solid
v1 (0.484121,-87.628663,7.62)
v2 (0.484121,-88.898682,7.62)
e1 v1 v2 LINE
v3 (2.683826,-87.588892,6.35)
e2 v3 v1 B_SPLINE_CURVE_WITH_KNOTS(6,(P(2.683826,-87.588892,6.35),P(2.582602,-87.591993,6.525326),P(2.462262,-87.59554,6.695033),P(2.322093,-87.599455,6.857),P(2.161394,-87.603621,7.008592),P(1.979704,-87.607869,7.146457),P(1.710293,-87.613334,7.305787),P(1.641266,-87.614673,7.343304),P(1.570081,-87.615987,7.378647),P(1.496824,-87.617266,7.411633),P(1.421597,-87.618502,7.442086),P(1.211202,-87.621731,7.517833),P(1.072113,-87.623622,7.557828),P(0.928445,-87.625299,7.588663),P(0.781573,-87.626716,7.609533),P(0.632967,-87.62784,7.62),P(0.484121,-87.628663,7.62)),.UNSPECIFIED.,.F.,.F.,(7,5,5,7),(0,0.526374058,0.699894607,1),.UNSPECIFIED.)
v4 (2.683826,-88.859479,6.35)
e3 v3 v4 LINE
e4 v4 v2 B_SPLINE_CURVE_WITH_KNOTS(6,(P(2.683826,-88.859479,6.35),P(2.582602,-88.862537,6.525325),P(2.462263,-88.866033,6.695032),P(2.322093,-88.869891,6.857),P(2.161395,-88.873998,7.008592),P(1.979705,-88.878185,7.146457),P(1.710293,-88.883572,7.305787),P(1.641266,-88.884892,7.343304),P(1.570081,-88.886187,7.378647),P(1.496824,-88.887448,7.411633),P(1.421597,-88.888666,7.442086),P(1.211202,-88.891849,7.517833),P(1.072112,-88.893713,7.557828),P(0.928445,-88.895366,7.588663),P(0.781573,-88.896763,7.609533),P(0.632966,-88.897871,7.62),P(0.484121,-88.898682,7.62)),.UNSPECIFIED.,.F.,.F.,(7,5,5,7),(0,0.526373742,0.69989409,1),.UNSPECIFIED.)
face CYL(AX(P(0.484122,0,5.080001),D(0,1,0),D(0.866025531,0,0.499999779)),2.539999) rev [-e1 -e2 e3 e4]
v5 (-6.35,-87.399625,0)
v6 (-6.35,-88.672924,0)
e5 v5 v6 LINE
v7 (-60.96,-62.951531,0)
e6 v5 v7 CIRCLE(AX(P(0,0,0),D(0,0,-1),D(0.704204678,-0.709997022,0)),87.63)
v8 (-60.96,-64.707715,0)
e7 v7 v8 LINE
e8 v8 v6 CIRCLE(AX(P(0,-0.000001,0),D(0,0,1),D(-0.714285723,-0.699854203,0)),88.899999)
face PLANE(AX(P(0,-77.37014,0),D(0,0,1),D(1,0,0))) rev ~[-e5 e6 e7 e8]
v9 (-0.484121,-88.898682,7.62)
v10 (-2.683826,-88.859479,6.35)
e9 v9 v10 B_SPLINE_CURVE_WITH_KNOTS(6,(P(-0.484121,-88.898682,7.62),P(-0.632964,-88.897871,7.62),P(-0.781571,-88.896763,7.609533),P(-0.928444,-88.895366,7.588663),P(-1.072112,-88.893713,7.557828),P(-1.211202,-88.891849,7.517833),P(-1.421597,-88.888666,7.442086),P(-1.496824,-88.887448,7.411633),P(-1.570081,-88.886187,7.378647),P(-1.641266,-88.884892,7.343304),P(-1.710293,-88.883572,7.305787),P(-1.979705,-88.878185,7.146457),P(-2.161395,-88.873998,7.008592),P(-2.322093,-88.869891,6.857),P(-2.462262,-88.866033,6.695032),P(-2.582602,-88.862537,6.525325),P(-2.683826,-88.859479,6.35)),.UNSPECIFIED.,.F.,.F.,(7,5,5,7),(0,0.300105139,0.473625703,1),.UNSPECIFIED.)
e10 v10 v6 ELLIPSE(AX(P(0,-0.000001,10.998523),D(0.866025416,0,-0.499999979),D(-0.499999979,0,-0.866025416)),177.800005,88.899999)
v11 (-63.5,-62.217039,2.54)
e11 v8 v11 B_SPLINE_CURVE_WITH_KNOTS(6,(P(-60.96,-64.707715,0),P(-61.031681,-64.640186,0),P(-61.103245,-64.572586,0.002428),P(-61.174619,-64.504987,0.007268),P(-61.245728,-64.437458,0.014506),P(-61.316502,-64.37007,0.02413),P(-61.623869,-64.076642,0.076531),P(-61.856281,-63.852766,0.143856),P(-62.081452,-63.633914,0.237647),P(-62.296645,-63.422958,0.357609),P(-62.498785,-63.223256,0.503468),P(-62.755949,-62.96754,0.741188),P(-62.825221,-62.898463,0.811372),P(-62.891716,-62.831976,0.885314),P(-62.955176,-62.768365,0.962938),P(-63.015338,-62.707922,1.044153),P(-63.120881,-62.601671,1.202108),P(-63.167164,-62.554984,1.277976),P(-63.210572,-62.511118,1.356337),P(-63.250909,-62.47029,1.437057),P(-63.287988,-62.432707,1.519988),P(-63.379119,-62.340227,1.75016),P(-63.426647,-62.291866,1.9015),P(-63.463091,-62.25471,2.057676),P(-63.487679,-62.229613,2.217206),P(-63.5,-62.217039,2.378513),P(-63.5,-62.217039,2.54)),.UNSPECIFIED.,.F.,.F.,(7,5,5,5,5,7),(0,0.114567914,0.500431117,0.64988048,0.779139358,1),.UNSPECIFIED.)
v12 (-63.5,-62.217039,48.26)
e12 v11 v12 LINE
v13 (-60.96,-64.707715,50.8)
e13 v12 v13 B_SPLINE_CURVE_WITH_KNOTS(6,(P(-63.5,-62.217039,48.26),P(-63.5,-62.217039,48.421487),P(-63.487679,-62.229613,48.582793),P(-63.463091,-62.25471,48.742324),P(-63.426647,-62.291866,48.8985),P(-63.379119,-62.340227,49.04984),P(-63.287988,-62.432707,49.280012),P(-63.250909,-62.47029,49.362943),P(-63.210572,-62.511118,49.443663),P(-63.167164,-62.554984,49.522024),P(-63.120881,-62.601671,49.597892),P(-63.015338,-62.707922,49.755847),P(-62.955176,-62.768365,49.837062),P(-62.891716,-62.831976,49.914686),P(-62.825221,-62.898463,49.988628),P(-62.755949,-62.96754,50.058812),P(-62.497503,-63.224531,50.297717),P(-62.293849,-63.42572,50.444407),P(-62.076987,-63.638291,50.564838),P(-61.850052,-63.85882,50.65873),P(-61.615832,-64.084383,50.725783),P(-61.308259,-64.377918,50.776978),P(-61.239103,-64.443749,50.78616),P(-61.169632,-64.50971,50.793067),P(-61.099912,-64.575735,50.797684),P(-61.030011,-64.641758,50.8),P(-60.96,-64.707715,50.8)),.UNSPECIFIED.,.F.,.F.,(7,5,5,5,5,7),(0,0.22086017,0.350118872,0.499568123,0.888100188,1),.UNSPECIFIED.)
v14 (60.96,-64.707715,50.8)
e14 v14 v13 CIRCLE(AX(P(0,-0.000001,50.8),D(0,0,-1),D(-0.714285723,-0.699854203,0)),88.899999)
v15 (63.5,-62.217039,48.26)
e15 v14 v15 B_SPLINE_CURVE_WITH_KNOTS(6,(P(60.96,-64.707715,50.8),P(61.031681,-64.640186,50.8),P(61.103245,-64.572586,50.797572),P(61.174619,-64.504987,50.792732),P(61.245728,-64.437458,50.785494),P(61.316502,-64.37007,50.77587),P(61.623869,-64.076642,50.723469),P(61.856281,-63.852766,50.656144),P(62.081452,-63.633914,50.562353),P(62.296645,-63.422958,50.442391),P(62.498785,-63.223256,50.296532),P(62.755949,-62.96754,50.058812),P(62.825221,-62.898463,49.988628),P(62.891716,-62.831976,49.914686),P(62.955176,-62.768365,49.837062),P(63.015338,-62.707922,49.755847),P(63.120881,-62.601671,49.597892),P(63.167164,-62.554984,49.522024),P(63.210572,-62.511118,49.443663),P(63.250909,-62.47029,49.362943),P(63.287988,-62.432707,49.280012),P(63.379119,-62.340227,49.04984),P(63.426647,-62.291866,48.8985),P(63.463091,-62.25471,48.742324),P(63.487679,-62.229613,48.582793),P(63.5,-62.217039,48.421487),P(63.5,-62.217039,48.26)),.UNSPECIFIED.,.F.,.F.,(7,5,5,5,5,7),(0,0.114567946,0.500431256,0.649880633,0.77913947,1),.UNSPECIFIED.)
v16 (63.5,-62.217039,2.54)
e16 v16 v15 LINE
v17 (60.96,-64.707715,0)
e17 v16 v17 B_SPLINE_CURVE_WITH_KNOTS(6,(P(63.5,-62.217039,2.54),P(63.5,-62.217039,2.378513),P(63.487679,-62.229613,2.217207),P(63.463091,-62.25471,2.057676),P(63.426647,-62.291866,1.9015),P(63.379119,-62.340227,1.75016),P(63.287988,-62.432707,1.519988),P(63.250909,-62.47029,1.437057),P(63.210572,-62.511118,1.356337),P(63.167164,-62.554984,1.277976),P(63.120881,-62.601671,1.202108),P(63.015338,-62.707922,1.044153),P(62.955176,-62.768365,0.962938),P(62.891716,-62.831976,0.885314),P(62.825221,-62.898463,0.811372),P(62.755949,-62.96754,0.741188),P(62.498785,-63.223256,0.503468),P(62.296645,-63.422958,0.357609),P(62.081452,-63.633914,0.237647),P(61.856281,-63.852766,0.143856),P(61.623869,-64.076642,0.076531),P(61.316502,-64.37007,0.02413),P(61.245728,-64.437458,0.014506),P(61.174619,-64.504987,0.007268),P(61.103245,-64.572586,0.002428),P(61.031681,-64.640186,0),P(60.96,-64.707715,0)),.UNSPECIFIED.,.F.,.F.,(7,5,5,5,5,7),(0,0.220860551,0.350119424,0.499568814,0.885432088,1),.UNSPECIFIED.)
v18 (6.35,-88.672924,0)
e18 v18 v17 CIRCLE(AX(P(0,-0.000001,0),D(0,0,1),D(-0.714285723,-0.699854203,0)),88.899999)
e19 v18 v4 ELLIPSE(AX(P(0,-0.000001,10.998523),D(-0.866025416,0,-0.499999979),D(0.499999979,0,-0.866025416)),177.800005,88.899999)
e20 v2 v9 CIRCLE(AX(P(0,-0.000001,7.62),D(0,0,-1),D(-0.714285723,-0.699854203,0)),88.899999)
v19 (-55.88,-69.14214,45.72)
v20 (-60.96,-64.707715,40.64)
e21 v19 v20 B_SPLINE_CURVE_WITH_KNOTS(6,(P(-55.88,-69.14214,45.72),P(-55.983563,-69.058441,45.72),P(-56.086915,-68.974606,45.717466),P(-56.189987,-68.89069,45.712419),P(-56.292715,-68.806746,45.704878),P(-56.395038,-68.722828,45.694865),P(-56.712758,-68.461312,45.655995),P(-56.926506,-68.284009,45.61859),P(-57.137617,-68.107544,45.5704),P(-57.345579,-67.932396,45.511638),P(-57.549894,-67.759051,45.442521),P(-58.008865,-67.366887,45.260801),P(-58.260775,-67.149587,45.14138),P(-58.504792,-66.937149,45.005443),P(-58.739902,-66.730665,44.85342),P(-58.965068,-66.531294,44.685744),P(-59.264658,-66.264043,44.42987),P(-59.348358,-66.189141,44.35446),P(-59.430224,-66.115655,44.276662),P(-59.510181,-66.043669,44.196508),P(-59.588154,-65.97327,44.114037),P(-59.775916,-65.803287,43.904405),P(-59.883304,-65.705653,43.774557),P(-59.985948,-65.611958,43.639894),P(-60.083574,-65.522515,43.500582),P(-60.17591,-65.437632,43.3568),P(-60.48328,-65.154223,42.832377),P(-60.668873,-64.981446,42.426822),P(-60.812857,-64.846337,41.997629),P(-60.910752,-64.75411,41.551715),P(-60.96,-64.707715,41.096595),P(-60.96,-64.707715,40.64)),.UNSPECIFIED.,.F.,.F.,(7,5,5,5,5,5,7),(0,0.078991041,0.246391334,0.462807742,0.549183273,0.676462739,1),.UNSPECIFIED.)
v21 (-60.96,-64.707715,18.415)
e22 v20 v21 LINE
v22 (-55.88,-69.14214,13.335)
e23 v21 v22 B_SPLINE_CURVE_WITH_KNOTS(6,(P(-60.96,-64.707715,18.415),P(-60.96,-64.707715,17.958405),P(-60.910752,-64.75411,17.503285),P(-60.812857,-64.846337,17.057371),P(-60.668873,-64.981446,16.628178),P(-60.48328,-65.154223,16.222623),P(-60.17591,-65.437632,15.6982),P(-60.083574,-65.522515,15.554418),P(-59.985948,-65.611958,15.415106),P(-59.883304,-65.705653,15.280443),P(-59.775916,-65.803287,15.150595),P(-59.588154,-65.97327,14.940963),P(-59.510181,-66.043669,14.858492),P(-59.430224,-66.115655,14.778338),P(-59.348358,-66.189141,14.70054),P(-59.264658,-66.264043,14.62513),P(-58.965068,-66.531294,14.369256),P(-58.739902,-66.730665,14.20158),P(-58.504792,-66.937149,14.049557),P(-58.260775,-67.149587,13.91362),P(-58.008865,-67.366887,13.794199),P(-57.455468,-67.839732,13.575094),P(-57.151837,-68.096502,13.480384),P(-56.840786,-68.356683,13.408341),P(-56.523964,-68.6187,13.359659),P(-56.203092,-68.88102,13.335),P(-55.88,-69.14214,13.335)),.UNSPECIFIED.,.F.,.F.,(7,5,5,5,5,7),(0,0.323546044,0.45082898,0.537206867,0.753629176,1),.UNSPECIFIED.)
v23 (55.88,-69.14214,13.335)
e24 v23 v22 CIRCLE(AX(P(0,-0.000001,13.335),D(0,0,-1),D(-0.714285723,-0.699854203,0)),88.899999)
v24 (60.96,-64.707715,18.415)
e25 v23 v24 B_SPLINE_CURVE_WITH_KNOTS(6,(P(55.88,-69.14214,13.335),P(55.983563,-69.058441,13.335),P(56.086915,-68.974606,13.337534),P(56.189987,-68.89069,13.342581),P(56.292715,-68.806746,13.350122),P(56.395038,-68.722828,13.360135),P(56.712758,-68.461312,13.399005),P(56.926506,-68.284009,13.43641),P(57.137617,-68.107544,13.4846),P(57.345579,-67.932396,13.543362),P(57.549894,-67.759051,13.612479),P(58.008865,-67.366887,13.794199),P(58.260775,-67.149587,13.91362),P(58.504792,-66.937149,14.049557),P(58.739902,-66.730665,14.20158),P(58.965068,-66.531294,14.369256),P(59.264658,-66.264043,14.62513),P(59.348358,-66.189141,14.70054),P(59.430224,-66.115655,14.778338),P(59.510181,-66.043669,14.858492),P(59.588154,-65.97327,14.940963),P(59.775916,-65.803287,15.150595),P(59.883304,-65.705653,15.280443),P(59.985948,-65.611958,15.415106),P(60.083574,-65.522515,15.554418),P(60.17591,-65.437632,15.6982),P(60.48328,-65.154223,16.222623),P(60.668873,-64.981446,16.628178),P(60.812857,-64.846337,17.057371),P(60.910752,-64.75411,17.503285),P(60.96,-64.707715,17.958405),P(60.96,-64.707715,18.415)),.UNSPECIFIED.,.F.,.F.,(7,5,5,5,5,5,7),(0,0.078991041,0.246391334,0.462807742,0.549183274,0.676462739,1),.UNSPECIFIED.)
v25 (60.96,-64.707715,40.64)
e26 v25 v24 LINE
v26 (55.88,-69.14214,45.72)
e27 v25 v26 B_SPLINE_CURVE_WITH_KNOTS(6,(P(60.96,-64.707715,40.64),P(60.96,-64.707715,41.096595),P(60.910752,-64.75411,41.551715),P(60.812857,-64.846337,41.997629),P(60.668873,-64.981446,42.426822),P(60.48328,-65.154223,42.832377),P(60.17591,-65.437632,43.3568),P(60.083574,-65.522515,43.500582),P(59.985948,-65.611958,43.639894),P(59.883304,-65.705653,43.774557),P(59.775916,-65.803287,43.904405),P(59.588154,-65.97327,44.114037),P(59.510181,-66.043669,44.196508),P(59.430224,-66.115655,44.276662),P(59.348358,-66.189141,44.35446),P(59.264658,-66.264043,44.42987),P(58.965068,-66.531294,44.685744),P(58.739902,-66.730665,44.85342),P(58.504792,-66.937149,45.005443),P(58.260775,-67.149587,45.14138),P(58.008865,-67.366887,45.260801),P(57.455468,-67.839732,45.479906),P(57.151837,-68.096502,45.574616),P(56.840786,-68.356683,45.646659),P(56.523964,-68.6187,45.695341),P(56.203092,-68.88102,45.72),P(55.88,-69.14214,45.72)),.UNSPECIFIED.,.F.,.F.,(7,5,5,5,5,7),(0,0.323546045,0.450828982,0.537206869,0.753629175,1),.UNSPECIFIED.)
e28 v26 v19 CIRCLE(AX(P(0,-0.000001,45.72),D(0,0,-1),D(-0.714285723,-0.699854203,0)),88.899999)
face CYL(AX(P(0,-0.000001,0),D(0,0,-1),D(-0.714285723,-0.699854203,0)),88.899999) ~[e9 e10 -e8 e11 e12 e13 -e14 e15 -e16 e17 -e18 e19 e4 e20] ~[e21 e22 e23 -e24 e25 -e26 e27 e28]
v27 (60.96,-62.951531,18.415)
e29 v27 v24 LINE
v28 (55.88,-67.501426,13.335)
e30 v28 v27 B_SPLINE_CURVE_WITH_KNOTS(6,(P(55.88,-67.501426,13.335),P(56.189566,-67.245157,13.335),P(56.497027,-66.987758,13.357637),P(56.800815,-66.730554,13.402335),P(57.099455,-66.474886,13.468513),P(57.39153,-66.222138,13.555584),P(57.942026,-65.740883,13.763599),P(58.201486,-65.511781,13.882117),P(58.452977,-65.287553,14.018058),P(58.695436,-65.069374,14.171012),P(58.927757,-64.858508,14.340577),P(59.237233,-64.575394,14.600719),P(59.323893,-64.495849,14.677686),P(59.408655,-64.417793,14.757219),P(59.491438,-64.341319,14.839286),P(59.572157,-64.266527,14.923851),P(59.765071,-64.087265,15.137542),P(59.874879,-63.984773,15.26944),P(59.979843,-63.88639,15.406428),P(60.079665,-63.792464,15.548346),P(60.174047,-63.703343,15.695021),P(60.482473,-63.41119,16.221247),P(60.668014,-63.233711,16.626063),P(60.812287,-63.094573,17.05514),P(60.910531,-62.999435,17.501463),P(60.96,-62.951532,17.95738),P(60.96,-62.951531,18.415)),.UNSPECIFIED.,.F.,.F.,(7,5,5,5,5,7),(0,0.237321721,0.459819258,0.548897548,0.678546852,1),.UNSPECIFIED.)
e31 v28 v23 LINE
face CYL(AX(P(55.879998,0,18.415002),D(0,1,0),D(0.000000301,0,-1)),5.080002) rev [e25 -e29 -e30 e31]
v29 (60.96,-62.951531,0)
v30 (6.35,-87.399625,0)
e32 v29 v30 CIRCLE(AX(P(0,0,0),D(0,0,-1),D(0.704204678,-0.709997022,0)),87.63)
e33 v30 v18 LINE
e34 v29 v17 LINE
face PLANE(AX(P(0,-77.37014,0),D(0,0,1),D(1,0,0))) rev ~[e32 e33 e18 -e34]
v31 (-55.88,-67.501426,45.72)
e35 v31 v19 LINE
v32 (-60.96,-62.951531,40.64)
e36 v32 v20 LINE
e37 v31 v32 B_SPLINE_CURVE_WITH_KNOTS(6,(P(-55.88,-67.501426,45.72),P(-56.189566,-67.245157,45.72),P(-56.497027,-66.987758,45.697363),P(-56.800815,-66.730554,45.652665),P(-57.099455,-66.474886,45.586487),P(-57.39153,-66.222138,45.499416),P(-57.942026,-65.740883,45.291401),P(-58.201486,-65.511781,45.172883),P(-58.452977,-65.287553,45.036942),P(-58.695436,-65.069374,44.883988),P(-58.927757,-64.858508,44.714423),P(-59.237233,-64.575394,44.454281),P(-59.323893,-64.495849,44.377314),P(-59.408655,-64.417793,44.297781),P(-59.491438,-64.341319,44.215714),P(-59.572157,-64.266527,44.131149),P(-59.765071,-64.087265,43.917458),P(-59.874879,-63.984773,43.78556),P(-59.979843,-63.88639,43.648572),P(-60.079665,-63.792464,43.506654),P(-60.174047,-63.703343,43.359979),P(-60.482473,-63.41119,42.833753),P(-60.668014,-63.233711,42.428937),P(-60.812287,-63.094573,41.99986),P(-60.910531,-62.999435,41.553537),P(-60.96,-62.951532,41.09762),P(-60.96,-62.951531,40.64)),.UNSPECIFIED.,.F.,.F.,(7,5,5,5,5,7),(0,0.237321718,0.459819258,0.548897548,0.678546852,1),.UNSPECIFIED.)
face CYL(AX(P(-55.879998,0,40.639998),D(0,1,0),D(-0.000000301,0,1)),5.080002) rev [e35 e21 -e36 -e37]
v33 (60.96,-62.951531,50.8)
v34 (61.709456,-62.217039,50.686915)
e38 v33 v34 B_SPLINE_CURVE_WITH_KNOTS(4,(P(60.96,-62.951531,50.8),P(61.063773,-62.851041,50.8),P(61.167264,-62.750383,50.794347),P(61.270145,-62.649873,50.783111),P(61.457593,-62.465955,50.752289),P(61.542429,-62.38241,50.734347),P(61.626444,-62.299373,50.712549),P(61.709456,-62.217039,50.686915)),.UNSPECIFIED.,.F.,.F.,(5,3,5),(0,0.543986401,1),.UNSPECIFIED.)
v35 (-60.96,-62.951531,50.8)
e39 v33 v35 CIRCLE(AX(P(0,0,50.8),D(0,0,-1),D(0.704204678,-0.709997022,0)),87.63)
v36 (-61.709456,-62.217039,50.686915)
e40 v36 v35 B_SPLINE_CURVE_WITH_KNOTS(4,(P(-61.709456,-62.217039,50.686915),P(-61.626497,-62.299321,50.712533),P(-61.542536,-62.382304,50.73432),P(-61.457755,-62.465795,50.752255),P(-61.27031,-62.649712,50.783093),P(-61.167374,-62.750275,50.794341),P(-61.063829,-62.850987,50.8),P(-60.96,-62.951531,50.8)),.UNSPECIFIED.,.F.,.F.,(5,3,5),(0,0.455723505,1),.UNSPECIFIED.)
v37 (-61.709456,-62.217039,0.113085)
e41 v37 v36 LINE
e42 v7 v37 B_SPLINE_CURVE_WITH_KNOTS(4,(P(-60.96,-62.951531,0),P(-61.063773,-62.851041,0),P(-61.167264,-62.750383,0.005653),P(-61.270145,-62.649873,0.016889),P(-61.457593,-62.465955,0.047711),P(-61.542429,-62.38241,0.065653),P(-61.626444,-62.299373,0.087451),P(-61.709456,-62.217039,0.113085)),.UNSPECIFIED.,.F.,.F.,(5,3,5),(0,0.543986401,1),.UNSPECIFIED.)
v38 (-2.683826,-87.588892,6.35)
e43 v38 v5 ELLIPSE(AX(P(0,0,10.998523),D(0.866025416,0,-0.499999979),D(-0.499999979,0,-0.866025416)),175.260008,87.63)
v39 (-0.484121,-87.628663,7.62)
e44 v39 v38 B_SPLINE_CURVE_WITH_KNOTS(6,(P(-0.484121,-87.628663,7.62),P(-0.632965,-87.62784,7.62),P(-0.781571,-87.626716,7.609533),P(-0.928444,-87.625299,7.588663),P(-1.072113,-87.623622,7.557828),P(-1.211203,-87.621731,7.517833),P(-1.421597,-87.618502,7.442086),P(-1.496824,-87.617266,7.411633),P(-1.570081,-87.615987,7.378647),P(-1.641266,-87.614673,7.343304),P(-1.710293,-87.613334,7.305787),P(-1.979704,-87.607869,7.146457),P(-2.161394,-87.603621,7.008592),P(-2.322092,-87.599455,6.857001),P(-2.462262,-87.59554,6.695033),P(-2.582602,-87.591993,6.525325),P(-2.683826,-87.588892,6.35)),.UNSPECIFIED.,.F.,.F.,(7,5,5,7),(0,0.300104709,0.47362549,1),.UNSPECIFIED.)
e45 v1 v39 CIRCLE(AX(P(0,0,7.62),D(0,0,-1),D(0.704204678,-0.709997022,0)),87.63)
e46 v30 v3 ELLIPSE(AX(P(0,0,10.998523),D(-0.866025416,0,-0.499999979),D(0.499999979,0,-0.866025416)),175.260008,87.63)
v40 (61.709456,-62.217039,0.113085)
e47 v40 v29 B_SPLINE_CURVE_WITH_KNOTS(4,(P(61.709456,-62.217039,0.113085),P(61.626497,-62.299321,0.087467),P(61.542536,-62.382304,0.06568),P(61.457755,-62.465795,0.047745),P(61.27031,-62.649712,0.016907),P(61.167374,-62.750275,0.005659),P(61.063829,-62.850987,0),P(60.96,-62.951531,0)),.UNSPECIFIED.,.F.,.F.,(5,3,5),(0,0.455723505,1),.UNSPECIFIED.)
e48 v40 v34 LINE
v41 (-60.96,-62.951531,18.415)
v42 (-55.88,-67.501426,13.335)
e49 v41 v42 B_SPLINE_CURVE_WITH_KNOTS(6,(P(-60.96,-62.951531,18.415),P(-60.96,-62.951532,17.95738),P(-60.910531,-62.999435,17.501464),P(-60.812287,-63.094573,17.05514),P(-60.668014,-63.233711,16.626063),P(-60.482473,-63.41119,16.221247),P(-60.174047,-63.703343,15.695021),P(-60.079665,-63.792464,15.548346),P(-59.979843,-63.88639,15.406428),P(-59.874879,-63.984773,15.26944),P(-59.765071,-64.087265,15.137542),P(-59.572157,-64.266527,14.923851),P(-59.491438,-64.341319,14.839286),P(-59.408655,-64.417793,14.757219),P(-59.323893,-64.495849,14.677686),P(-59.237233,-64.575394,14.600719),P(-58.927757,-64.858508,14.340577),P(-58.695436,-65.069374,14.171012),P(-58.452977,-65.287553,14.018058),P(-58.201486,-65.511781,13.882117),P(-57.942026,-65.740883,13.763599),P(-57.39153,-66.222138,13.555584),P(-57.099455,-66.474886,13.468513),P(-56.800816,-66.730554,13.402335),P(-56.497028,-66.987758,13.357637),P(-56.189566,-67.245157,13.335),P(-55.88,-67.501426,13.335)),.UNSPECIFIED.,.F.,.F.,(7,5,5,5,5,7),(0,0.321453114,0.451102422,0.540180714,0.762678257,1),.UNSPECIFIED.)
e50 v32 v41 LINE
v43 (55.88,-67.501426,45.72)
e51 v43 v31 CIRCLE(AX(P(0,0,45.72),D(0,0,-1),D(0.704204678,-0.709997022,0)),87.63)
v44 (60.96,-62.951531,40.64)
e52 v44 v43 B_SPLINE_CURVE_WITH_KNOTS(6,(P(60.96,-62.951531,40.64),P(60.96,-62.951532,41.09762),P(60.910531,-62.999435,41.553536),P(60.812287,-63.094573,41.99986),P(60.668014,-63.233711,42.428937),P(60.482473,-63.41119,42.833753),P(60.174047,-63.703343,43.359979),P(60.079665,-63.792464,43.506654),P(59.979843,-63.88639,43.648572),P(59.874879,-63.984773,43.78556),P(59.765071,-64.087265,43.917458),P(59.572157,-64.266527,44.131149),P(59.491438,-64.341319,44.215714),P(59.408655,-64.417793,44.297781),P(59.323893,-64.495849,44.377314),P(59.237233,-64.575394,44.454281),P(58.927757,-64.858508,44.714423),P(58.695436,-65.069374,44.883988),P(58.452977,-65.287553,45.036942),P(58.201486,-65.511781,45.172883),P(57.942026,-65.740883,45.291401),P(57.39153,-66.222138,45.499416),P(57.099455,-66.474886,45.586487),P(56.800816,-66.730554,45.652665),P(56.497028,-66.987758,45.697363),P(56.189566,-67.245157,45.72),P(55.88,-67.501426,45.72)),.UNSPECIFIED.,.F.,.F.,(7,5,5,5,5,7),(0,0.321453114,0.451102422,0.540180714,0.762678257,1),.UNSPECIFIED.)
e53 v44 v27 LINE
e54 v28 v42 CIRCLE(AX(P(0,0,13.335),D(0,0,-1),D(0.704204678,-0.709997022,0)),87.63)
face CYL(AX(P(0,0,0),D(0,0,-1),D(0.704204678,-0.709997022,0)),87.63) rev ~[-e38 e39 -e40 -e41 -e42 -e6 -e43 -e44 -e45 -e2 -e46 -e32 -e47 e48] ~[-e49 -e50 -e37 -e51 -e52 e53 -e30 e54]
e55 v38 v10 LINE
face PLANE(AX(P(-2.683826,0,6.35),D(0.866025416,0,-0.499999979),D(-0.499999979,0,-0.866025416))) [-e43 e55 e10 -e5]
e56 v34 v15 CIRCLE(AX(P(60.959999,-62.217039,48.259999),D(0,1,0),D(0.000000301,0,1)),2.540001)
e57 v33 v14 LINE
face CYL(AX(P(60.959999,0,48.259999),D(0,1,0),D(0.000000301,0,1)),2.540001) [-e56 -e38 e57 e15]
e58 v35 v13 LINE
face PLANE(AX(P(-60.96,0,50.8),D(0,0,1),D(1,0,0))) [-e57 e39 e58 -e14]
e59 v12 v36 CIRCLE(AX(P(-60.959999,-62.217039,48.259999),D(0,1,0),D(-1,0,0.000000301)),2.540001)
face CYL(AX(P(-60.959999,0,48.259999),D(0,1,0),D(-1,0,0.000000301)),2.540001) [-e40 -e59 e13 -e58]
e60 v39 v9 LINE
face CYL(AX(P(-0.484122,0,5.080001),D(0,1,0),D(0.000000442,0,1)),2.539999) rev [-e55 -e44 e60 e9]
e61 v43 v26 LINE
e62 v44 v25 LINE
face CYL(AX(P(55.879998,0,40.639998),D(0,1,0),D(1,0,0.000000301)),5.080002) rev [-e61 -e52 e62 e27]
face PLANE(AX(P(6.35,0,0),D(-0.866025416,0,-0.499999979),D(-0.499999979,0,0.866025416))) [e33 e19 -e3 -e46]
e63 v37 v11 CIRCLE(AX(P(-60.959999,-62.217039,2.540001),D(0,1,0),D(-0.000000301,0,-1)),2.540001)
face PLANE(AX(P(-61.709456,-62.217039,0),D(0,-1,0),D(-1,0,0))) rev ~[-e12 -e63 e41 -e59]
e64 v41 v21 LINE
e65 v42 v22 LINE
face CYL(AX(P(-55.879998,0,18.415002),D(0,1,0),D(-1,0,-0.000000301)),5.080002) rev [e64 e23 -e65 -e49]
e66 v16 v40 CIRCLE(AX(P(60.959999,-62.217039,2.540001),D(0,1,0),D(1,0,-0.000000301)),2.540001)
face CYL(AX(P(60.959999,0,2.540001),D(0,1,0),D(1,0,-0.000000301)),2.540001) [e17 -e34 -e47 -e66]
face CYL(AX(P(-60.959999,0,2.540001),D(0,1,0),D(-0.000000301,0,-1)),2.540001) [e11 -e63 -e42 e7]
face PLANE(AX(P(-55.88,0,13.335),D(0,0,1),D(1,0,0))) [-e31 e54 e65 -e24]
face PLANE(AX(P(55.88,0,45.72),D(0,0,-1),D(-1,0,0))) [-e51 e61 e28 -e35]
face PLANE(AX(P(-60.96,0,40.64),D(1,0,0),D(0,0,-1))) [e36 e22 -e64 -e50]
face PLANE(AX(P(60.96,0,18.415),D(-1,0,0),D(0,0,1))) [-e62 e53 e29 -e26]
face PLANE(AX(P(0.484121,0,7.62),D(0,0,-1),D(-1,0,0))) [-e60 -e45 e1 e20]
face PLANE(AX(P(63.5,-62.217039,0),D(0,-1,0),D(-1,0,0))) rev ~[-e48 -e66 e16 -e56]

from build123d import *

# Parameters (mm, degrees)
F1_DEPTH = 63.5
F3_DEPTH = 127


with BuildPart() as f1:
    # F0 (on Top) → F1 (new body)
    with BuildSketch(Plane.XY):
        with BuildLine():
            Line((-61.709456, -62.217039), (-63.5, -62.217039))
            ThreePointArc((-63.5, -62.217039), (0, -88.9), (63.5, -62.217039))
            Line((63.5, -62.217039), (61.709456, -62.217039))
            ThreePointArc((61.709456, -62.217039), (0, -87.63), (-61.709456, -62.217039))
        make_face()
    extrude(amount=F1_DEPTH)

    # F2 (on Front) → F3 (cut)
    with BuildSketch(Plane.XZ):
        with BuildLine():
            ThreePointArc((-63.5, 48.26), (-62.756051, 50.056051), (-60.96, 50.8))
            Line((-60.96, 50.8), (60.96, 50.8))
            ThreePointArc((60.96, 50.8), (62.756051, 50.056051), (63.5, 48.26))
            Line((63.5, 48.26), (63.5, 63.5))
            Line((63.5, 63.5), (-63.5, 63.5))
            Line((-63.5, 63.5), (-63.5, 48.26))
        make_face()
        with BuildLine():
            Line((55.88, 45.72), (-55.88, 45.72))
            ThreePointArc((-55.88, 45.72), (-59.472102, 44.232102), (-60.96, 40.64))
            Line((-60.96, 40.64), (-60.96, 18.415))
            ThreePointArc((-60.96, 18.415), (-59.472102, 14.822898), (-55.88, 13.335))
            Line((-55.88, 13.335), (55.88, 13.335))
            ThreePointArc((55.88, 13.335), (59.472102, 14.822898), (60.96, 18.415))
            Line((60.96, 18.415), (60.96, 40.64))
            ThreePointArc((60.96, 40.64), (59.472102, 44.232102), (55.88, 45.72))
        make_face()
        with BuildLine():
            Line((63.5, 0), (63.5, 2.54))
            ThreePointArc((63.5, 2.54), (62.756051, 0.743949), (60.96, 0))
            Line((60.96, 0), (63.5, 0))
        make_face()
        with BuildLine():
            Line((-2.683826, 6.35), (-6.35, 0))
            Line((-6.35, 0), (6.35, 0))
            Line((6.35, 0), (2.683826, 6.35))
            ThreePointArc((2.683826, 6.35), (1.754121, 7.279705), (0.484121, 7.62))
            Line((0.484121, 7.62), (-0.484121, 7.62))
            ThreePointArc((-0.484121, 7.62), (-1.754121, 7.279705), (-2.683826, 6.35))
        make_face()
        with BuildLine():
            ThreePointArc((-60.96, 0), (-62.756051, 0.743949), (-63.5, 2.54))
            Line((-63.5, 2.54), (-63.5, 0))
            Line((-63.5, 0), (-60.96, 0))
        make_face()
    extrude(amount=F3_DEPTH, mode=Mode.SUBTRACT)


solid = f1.part
